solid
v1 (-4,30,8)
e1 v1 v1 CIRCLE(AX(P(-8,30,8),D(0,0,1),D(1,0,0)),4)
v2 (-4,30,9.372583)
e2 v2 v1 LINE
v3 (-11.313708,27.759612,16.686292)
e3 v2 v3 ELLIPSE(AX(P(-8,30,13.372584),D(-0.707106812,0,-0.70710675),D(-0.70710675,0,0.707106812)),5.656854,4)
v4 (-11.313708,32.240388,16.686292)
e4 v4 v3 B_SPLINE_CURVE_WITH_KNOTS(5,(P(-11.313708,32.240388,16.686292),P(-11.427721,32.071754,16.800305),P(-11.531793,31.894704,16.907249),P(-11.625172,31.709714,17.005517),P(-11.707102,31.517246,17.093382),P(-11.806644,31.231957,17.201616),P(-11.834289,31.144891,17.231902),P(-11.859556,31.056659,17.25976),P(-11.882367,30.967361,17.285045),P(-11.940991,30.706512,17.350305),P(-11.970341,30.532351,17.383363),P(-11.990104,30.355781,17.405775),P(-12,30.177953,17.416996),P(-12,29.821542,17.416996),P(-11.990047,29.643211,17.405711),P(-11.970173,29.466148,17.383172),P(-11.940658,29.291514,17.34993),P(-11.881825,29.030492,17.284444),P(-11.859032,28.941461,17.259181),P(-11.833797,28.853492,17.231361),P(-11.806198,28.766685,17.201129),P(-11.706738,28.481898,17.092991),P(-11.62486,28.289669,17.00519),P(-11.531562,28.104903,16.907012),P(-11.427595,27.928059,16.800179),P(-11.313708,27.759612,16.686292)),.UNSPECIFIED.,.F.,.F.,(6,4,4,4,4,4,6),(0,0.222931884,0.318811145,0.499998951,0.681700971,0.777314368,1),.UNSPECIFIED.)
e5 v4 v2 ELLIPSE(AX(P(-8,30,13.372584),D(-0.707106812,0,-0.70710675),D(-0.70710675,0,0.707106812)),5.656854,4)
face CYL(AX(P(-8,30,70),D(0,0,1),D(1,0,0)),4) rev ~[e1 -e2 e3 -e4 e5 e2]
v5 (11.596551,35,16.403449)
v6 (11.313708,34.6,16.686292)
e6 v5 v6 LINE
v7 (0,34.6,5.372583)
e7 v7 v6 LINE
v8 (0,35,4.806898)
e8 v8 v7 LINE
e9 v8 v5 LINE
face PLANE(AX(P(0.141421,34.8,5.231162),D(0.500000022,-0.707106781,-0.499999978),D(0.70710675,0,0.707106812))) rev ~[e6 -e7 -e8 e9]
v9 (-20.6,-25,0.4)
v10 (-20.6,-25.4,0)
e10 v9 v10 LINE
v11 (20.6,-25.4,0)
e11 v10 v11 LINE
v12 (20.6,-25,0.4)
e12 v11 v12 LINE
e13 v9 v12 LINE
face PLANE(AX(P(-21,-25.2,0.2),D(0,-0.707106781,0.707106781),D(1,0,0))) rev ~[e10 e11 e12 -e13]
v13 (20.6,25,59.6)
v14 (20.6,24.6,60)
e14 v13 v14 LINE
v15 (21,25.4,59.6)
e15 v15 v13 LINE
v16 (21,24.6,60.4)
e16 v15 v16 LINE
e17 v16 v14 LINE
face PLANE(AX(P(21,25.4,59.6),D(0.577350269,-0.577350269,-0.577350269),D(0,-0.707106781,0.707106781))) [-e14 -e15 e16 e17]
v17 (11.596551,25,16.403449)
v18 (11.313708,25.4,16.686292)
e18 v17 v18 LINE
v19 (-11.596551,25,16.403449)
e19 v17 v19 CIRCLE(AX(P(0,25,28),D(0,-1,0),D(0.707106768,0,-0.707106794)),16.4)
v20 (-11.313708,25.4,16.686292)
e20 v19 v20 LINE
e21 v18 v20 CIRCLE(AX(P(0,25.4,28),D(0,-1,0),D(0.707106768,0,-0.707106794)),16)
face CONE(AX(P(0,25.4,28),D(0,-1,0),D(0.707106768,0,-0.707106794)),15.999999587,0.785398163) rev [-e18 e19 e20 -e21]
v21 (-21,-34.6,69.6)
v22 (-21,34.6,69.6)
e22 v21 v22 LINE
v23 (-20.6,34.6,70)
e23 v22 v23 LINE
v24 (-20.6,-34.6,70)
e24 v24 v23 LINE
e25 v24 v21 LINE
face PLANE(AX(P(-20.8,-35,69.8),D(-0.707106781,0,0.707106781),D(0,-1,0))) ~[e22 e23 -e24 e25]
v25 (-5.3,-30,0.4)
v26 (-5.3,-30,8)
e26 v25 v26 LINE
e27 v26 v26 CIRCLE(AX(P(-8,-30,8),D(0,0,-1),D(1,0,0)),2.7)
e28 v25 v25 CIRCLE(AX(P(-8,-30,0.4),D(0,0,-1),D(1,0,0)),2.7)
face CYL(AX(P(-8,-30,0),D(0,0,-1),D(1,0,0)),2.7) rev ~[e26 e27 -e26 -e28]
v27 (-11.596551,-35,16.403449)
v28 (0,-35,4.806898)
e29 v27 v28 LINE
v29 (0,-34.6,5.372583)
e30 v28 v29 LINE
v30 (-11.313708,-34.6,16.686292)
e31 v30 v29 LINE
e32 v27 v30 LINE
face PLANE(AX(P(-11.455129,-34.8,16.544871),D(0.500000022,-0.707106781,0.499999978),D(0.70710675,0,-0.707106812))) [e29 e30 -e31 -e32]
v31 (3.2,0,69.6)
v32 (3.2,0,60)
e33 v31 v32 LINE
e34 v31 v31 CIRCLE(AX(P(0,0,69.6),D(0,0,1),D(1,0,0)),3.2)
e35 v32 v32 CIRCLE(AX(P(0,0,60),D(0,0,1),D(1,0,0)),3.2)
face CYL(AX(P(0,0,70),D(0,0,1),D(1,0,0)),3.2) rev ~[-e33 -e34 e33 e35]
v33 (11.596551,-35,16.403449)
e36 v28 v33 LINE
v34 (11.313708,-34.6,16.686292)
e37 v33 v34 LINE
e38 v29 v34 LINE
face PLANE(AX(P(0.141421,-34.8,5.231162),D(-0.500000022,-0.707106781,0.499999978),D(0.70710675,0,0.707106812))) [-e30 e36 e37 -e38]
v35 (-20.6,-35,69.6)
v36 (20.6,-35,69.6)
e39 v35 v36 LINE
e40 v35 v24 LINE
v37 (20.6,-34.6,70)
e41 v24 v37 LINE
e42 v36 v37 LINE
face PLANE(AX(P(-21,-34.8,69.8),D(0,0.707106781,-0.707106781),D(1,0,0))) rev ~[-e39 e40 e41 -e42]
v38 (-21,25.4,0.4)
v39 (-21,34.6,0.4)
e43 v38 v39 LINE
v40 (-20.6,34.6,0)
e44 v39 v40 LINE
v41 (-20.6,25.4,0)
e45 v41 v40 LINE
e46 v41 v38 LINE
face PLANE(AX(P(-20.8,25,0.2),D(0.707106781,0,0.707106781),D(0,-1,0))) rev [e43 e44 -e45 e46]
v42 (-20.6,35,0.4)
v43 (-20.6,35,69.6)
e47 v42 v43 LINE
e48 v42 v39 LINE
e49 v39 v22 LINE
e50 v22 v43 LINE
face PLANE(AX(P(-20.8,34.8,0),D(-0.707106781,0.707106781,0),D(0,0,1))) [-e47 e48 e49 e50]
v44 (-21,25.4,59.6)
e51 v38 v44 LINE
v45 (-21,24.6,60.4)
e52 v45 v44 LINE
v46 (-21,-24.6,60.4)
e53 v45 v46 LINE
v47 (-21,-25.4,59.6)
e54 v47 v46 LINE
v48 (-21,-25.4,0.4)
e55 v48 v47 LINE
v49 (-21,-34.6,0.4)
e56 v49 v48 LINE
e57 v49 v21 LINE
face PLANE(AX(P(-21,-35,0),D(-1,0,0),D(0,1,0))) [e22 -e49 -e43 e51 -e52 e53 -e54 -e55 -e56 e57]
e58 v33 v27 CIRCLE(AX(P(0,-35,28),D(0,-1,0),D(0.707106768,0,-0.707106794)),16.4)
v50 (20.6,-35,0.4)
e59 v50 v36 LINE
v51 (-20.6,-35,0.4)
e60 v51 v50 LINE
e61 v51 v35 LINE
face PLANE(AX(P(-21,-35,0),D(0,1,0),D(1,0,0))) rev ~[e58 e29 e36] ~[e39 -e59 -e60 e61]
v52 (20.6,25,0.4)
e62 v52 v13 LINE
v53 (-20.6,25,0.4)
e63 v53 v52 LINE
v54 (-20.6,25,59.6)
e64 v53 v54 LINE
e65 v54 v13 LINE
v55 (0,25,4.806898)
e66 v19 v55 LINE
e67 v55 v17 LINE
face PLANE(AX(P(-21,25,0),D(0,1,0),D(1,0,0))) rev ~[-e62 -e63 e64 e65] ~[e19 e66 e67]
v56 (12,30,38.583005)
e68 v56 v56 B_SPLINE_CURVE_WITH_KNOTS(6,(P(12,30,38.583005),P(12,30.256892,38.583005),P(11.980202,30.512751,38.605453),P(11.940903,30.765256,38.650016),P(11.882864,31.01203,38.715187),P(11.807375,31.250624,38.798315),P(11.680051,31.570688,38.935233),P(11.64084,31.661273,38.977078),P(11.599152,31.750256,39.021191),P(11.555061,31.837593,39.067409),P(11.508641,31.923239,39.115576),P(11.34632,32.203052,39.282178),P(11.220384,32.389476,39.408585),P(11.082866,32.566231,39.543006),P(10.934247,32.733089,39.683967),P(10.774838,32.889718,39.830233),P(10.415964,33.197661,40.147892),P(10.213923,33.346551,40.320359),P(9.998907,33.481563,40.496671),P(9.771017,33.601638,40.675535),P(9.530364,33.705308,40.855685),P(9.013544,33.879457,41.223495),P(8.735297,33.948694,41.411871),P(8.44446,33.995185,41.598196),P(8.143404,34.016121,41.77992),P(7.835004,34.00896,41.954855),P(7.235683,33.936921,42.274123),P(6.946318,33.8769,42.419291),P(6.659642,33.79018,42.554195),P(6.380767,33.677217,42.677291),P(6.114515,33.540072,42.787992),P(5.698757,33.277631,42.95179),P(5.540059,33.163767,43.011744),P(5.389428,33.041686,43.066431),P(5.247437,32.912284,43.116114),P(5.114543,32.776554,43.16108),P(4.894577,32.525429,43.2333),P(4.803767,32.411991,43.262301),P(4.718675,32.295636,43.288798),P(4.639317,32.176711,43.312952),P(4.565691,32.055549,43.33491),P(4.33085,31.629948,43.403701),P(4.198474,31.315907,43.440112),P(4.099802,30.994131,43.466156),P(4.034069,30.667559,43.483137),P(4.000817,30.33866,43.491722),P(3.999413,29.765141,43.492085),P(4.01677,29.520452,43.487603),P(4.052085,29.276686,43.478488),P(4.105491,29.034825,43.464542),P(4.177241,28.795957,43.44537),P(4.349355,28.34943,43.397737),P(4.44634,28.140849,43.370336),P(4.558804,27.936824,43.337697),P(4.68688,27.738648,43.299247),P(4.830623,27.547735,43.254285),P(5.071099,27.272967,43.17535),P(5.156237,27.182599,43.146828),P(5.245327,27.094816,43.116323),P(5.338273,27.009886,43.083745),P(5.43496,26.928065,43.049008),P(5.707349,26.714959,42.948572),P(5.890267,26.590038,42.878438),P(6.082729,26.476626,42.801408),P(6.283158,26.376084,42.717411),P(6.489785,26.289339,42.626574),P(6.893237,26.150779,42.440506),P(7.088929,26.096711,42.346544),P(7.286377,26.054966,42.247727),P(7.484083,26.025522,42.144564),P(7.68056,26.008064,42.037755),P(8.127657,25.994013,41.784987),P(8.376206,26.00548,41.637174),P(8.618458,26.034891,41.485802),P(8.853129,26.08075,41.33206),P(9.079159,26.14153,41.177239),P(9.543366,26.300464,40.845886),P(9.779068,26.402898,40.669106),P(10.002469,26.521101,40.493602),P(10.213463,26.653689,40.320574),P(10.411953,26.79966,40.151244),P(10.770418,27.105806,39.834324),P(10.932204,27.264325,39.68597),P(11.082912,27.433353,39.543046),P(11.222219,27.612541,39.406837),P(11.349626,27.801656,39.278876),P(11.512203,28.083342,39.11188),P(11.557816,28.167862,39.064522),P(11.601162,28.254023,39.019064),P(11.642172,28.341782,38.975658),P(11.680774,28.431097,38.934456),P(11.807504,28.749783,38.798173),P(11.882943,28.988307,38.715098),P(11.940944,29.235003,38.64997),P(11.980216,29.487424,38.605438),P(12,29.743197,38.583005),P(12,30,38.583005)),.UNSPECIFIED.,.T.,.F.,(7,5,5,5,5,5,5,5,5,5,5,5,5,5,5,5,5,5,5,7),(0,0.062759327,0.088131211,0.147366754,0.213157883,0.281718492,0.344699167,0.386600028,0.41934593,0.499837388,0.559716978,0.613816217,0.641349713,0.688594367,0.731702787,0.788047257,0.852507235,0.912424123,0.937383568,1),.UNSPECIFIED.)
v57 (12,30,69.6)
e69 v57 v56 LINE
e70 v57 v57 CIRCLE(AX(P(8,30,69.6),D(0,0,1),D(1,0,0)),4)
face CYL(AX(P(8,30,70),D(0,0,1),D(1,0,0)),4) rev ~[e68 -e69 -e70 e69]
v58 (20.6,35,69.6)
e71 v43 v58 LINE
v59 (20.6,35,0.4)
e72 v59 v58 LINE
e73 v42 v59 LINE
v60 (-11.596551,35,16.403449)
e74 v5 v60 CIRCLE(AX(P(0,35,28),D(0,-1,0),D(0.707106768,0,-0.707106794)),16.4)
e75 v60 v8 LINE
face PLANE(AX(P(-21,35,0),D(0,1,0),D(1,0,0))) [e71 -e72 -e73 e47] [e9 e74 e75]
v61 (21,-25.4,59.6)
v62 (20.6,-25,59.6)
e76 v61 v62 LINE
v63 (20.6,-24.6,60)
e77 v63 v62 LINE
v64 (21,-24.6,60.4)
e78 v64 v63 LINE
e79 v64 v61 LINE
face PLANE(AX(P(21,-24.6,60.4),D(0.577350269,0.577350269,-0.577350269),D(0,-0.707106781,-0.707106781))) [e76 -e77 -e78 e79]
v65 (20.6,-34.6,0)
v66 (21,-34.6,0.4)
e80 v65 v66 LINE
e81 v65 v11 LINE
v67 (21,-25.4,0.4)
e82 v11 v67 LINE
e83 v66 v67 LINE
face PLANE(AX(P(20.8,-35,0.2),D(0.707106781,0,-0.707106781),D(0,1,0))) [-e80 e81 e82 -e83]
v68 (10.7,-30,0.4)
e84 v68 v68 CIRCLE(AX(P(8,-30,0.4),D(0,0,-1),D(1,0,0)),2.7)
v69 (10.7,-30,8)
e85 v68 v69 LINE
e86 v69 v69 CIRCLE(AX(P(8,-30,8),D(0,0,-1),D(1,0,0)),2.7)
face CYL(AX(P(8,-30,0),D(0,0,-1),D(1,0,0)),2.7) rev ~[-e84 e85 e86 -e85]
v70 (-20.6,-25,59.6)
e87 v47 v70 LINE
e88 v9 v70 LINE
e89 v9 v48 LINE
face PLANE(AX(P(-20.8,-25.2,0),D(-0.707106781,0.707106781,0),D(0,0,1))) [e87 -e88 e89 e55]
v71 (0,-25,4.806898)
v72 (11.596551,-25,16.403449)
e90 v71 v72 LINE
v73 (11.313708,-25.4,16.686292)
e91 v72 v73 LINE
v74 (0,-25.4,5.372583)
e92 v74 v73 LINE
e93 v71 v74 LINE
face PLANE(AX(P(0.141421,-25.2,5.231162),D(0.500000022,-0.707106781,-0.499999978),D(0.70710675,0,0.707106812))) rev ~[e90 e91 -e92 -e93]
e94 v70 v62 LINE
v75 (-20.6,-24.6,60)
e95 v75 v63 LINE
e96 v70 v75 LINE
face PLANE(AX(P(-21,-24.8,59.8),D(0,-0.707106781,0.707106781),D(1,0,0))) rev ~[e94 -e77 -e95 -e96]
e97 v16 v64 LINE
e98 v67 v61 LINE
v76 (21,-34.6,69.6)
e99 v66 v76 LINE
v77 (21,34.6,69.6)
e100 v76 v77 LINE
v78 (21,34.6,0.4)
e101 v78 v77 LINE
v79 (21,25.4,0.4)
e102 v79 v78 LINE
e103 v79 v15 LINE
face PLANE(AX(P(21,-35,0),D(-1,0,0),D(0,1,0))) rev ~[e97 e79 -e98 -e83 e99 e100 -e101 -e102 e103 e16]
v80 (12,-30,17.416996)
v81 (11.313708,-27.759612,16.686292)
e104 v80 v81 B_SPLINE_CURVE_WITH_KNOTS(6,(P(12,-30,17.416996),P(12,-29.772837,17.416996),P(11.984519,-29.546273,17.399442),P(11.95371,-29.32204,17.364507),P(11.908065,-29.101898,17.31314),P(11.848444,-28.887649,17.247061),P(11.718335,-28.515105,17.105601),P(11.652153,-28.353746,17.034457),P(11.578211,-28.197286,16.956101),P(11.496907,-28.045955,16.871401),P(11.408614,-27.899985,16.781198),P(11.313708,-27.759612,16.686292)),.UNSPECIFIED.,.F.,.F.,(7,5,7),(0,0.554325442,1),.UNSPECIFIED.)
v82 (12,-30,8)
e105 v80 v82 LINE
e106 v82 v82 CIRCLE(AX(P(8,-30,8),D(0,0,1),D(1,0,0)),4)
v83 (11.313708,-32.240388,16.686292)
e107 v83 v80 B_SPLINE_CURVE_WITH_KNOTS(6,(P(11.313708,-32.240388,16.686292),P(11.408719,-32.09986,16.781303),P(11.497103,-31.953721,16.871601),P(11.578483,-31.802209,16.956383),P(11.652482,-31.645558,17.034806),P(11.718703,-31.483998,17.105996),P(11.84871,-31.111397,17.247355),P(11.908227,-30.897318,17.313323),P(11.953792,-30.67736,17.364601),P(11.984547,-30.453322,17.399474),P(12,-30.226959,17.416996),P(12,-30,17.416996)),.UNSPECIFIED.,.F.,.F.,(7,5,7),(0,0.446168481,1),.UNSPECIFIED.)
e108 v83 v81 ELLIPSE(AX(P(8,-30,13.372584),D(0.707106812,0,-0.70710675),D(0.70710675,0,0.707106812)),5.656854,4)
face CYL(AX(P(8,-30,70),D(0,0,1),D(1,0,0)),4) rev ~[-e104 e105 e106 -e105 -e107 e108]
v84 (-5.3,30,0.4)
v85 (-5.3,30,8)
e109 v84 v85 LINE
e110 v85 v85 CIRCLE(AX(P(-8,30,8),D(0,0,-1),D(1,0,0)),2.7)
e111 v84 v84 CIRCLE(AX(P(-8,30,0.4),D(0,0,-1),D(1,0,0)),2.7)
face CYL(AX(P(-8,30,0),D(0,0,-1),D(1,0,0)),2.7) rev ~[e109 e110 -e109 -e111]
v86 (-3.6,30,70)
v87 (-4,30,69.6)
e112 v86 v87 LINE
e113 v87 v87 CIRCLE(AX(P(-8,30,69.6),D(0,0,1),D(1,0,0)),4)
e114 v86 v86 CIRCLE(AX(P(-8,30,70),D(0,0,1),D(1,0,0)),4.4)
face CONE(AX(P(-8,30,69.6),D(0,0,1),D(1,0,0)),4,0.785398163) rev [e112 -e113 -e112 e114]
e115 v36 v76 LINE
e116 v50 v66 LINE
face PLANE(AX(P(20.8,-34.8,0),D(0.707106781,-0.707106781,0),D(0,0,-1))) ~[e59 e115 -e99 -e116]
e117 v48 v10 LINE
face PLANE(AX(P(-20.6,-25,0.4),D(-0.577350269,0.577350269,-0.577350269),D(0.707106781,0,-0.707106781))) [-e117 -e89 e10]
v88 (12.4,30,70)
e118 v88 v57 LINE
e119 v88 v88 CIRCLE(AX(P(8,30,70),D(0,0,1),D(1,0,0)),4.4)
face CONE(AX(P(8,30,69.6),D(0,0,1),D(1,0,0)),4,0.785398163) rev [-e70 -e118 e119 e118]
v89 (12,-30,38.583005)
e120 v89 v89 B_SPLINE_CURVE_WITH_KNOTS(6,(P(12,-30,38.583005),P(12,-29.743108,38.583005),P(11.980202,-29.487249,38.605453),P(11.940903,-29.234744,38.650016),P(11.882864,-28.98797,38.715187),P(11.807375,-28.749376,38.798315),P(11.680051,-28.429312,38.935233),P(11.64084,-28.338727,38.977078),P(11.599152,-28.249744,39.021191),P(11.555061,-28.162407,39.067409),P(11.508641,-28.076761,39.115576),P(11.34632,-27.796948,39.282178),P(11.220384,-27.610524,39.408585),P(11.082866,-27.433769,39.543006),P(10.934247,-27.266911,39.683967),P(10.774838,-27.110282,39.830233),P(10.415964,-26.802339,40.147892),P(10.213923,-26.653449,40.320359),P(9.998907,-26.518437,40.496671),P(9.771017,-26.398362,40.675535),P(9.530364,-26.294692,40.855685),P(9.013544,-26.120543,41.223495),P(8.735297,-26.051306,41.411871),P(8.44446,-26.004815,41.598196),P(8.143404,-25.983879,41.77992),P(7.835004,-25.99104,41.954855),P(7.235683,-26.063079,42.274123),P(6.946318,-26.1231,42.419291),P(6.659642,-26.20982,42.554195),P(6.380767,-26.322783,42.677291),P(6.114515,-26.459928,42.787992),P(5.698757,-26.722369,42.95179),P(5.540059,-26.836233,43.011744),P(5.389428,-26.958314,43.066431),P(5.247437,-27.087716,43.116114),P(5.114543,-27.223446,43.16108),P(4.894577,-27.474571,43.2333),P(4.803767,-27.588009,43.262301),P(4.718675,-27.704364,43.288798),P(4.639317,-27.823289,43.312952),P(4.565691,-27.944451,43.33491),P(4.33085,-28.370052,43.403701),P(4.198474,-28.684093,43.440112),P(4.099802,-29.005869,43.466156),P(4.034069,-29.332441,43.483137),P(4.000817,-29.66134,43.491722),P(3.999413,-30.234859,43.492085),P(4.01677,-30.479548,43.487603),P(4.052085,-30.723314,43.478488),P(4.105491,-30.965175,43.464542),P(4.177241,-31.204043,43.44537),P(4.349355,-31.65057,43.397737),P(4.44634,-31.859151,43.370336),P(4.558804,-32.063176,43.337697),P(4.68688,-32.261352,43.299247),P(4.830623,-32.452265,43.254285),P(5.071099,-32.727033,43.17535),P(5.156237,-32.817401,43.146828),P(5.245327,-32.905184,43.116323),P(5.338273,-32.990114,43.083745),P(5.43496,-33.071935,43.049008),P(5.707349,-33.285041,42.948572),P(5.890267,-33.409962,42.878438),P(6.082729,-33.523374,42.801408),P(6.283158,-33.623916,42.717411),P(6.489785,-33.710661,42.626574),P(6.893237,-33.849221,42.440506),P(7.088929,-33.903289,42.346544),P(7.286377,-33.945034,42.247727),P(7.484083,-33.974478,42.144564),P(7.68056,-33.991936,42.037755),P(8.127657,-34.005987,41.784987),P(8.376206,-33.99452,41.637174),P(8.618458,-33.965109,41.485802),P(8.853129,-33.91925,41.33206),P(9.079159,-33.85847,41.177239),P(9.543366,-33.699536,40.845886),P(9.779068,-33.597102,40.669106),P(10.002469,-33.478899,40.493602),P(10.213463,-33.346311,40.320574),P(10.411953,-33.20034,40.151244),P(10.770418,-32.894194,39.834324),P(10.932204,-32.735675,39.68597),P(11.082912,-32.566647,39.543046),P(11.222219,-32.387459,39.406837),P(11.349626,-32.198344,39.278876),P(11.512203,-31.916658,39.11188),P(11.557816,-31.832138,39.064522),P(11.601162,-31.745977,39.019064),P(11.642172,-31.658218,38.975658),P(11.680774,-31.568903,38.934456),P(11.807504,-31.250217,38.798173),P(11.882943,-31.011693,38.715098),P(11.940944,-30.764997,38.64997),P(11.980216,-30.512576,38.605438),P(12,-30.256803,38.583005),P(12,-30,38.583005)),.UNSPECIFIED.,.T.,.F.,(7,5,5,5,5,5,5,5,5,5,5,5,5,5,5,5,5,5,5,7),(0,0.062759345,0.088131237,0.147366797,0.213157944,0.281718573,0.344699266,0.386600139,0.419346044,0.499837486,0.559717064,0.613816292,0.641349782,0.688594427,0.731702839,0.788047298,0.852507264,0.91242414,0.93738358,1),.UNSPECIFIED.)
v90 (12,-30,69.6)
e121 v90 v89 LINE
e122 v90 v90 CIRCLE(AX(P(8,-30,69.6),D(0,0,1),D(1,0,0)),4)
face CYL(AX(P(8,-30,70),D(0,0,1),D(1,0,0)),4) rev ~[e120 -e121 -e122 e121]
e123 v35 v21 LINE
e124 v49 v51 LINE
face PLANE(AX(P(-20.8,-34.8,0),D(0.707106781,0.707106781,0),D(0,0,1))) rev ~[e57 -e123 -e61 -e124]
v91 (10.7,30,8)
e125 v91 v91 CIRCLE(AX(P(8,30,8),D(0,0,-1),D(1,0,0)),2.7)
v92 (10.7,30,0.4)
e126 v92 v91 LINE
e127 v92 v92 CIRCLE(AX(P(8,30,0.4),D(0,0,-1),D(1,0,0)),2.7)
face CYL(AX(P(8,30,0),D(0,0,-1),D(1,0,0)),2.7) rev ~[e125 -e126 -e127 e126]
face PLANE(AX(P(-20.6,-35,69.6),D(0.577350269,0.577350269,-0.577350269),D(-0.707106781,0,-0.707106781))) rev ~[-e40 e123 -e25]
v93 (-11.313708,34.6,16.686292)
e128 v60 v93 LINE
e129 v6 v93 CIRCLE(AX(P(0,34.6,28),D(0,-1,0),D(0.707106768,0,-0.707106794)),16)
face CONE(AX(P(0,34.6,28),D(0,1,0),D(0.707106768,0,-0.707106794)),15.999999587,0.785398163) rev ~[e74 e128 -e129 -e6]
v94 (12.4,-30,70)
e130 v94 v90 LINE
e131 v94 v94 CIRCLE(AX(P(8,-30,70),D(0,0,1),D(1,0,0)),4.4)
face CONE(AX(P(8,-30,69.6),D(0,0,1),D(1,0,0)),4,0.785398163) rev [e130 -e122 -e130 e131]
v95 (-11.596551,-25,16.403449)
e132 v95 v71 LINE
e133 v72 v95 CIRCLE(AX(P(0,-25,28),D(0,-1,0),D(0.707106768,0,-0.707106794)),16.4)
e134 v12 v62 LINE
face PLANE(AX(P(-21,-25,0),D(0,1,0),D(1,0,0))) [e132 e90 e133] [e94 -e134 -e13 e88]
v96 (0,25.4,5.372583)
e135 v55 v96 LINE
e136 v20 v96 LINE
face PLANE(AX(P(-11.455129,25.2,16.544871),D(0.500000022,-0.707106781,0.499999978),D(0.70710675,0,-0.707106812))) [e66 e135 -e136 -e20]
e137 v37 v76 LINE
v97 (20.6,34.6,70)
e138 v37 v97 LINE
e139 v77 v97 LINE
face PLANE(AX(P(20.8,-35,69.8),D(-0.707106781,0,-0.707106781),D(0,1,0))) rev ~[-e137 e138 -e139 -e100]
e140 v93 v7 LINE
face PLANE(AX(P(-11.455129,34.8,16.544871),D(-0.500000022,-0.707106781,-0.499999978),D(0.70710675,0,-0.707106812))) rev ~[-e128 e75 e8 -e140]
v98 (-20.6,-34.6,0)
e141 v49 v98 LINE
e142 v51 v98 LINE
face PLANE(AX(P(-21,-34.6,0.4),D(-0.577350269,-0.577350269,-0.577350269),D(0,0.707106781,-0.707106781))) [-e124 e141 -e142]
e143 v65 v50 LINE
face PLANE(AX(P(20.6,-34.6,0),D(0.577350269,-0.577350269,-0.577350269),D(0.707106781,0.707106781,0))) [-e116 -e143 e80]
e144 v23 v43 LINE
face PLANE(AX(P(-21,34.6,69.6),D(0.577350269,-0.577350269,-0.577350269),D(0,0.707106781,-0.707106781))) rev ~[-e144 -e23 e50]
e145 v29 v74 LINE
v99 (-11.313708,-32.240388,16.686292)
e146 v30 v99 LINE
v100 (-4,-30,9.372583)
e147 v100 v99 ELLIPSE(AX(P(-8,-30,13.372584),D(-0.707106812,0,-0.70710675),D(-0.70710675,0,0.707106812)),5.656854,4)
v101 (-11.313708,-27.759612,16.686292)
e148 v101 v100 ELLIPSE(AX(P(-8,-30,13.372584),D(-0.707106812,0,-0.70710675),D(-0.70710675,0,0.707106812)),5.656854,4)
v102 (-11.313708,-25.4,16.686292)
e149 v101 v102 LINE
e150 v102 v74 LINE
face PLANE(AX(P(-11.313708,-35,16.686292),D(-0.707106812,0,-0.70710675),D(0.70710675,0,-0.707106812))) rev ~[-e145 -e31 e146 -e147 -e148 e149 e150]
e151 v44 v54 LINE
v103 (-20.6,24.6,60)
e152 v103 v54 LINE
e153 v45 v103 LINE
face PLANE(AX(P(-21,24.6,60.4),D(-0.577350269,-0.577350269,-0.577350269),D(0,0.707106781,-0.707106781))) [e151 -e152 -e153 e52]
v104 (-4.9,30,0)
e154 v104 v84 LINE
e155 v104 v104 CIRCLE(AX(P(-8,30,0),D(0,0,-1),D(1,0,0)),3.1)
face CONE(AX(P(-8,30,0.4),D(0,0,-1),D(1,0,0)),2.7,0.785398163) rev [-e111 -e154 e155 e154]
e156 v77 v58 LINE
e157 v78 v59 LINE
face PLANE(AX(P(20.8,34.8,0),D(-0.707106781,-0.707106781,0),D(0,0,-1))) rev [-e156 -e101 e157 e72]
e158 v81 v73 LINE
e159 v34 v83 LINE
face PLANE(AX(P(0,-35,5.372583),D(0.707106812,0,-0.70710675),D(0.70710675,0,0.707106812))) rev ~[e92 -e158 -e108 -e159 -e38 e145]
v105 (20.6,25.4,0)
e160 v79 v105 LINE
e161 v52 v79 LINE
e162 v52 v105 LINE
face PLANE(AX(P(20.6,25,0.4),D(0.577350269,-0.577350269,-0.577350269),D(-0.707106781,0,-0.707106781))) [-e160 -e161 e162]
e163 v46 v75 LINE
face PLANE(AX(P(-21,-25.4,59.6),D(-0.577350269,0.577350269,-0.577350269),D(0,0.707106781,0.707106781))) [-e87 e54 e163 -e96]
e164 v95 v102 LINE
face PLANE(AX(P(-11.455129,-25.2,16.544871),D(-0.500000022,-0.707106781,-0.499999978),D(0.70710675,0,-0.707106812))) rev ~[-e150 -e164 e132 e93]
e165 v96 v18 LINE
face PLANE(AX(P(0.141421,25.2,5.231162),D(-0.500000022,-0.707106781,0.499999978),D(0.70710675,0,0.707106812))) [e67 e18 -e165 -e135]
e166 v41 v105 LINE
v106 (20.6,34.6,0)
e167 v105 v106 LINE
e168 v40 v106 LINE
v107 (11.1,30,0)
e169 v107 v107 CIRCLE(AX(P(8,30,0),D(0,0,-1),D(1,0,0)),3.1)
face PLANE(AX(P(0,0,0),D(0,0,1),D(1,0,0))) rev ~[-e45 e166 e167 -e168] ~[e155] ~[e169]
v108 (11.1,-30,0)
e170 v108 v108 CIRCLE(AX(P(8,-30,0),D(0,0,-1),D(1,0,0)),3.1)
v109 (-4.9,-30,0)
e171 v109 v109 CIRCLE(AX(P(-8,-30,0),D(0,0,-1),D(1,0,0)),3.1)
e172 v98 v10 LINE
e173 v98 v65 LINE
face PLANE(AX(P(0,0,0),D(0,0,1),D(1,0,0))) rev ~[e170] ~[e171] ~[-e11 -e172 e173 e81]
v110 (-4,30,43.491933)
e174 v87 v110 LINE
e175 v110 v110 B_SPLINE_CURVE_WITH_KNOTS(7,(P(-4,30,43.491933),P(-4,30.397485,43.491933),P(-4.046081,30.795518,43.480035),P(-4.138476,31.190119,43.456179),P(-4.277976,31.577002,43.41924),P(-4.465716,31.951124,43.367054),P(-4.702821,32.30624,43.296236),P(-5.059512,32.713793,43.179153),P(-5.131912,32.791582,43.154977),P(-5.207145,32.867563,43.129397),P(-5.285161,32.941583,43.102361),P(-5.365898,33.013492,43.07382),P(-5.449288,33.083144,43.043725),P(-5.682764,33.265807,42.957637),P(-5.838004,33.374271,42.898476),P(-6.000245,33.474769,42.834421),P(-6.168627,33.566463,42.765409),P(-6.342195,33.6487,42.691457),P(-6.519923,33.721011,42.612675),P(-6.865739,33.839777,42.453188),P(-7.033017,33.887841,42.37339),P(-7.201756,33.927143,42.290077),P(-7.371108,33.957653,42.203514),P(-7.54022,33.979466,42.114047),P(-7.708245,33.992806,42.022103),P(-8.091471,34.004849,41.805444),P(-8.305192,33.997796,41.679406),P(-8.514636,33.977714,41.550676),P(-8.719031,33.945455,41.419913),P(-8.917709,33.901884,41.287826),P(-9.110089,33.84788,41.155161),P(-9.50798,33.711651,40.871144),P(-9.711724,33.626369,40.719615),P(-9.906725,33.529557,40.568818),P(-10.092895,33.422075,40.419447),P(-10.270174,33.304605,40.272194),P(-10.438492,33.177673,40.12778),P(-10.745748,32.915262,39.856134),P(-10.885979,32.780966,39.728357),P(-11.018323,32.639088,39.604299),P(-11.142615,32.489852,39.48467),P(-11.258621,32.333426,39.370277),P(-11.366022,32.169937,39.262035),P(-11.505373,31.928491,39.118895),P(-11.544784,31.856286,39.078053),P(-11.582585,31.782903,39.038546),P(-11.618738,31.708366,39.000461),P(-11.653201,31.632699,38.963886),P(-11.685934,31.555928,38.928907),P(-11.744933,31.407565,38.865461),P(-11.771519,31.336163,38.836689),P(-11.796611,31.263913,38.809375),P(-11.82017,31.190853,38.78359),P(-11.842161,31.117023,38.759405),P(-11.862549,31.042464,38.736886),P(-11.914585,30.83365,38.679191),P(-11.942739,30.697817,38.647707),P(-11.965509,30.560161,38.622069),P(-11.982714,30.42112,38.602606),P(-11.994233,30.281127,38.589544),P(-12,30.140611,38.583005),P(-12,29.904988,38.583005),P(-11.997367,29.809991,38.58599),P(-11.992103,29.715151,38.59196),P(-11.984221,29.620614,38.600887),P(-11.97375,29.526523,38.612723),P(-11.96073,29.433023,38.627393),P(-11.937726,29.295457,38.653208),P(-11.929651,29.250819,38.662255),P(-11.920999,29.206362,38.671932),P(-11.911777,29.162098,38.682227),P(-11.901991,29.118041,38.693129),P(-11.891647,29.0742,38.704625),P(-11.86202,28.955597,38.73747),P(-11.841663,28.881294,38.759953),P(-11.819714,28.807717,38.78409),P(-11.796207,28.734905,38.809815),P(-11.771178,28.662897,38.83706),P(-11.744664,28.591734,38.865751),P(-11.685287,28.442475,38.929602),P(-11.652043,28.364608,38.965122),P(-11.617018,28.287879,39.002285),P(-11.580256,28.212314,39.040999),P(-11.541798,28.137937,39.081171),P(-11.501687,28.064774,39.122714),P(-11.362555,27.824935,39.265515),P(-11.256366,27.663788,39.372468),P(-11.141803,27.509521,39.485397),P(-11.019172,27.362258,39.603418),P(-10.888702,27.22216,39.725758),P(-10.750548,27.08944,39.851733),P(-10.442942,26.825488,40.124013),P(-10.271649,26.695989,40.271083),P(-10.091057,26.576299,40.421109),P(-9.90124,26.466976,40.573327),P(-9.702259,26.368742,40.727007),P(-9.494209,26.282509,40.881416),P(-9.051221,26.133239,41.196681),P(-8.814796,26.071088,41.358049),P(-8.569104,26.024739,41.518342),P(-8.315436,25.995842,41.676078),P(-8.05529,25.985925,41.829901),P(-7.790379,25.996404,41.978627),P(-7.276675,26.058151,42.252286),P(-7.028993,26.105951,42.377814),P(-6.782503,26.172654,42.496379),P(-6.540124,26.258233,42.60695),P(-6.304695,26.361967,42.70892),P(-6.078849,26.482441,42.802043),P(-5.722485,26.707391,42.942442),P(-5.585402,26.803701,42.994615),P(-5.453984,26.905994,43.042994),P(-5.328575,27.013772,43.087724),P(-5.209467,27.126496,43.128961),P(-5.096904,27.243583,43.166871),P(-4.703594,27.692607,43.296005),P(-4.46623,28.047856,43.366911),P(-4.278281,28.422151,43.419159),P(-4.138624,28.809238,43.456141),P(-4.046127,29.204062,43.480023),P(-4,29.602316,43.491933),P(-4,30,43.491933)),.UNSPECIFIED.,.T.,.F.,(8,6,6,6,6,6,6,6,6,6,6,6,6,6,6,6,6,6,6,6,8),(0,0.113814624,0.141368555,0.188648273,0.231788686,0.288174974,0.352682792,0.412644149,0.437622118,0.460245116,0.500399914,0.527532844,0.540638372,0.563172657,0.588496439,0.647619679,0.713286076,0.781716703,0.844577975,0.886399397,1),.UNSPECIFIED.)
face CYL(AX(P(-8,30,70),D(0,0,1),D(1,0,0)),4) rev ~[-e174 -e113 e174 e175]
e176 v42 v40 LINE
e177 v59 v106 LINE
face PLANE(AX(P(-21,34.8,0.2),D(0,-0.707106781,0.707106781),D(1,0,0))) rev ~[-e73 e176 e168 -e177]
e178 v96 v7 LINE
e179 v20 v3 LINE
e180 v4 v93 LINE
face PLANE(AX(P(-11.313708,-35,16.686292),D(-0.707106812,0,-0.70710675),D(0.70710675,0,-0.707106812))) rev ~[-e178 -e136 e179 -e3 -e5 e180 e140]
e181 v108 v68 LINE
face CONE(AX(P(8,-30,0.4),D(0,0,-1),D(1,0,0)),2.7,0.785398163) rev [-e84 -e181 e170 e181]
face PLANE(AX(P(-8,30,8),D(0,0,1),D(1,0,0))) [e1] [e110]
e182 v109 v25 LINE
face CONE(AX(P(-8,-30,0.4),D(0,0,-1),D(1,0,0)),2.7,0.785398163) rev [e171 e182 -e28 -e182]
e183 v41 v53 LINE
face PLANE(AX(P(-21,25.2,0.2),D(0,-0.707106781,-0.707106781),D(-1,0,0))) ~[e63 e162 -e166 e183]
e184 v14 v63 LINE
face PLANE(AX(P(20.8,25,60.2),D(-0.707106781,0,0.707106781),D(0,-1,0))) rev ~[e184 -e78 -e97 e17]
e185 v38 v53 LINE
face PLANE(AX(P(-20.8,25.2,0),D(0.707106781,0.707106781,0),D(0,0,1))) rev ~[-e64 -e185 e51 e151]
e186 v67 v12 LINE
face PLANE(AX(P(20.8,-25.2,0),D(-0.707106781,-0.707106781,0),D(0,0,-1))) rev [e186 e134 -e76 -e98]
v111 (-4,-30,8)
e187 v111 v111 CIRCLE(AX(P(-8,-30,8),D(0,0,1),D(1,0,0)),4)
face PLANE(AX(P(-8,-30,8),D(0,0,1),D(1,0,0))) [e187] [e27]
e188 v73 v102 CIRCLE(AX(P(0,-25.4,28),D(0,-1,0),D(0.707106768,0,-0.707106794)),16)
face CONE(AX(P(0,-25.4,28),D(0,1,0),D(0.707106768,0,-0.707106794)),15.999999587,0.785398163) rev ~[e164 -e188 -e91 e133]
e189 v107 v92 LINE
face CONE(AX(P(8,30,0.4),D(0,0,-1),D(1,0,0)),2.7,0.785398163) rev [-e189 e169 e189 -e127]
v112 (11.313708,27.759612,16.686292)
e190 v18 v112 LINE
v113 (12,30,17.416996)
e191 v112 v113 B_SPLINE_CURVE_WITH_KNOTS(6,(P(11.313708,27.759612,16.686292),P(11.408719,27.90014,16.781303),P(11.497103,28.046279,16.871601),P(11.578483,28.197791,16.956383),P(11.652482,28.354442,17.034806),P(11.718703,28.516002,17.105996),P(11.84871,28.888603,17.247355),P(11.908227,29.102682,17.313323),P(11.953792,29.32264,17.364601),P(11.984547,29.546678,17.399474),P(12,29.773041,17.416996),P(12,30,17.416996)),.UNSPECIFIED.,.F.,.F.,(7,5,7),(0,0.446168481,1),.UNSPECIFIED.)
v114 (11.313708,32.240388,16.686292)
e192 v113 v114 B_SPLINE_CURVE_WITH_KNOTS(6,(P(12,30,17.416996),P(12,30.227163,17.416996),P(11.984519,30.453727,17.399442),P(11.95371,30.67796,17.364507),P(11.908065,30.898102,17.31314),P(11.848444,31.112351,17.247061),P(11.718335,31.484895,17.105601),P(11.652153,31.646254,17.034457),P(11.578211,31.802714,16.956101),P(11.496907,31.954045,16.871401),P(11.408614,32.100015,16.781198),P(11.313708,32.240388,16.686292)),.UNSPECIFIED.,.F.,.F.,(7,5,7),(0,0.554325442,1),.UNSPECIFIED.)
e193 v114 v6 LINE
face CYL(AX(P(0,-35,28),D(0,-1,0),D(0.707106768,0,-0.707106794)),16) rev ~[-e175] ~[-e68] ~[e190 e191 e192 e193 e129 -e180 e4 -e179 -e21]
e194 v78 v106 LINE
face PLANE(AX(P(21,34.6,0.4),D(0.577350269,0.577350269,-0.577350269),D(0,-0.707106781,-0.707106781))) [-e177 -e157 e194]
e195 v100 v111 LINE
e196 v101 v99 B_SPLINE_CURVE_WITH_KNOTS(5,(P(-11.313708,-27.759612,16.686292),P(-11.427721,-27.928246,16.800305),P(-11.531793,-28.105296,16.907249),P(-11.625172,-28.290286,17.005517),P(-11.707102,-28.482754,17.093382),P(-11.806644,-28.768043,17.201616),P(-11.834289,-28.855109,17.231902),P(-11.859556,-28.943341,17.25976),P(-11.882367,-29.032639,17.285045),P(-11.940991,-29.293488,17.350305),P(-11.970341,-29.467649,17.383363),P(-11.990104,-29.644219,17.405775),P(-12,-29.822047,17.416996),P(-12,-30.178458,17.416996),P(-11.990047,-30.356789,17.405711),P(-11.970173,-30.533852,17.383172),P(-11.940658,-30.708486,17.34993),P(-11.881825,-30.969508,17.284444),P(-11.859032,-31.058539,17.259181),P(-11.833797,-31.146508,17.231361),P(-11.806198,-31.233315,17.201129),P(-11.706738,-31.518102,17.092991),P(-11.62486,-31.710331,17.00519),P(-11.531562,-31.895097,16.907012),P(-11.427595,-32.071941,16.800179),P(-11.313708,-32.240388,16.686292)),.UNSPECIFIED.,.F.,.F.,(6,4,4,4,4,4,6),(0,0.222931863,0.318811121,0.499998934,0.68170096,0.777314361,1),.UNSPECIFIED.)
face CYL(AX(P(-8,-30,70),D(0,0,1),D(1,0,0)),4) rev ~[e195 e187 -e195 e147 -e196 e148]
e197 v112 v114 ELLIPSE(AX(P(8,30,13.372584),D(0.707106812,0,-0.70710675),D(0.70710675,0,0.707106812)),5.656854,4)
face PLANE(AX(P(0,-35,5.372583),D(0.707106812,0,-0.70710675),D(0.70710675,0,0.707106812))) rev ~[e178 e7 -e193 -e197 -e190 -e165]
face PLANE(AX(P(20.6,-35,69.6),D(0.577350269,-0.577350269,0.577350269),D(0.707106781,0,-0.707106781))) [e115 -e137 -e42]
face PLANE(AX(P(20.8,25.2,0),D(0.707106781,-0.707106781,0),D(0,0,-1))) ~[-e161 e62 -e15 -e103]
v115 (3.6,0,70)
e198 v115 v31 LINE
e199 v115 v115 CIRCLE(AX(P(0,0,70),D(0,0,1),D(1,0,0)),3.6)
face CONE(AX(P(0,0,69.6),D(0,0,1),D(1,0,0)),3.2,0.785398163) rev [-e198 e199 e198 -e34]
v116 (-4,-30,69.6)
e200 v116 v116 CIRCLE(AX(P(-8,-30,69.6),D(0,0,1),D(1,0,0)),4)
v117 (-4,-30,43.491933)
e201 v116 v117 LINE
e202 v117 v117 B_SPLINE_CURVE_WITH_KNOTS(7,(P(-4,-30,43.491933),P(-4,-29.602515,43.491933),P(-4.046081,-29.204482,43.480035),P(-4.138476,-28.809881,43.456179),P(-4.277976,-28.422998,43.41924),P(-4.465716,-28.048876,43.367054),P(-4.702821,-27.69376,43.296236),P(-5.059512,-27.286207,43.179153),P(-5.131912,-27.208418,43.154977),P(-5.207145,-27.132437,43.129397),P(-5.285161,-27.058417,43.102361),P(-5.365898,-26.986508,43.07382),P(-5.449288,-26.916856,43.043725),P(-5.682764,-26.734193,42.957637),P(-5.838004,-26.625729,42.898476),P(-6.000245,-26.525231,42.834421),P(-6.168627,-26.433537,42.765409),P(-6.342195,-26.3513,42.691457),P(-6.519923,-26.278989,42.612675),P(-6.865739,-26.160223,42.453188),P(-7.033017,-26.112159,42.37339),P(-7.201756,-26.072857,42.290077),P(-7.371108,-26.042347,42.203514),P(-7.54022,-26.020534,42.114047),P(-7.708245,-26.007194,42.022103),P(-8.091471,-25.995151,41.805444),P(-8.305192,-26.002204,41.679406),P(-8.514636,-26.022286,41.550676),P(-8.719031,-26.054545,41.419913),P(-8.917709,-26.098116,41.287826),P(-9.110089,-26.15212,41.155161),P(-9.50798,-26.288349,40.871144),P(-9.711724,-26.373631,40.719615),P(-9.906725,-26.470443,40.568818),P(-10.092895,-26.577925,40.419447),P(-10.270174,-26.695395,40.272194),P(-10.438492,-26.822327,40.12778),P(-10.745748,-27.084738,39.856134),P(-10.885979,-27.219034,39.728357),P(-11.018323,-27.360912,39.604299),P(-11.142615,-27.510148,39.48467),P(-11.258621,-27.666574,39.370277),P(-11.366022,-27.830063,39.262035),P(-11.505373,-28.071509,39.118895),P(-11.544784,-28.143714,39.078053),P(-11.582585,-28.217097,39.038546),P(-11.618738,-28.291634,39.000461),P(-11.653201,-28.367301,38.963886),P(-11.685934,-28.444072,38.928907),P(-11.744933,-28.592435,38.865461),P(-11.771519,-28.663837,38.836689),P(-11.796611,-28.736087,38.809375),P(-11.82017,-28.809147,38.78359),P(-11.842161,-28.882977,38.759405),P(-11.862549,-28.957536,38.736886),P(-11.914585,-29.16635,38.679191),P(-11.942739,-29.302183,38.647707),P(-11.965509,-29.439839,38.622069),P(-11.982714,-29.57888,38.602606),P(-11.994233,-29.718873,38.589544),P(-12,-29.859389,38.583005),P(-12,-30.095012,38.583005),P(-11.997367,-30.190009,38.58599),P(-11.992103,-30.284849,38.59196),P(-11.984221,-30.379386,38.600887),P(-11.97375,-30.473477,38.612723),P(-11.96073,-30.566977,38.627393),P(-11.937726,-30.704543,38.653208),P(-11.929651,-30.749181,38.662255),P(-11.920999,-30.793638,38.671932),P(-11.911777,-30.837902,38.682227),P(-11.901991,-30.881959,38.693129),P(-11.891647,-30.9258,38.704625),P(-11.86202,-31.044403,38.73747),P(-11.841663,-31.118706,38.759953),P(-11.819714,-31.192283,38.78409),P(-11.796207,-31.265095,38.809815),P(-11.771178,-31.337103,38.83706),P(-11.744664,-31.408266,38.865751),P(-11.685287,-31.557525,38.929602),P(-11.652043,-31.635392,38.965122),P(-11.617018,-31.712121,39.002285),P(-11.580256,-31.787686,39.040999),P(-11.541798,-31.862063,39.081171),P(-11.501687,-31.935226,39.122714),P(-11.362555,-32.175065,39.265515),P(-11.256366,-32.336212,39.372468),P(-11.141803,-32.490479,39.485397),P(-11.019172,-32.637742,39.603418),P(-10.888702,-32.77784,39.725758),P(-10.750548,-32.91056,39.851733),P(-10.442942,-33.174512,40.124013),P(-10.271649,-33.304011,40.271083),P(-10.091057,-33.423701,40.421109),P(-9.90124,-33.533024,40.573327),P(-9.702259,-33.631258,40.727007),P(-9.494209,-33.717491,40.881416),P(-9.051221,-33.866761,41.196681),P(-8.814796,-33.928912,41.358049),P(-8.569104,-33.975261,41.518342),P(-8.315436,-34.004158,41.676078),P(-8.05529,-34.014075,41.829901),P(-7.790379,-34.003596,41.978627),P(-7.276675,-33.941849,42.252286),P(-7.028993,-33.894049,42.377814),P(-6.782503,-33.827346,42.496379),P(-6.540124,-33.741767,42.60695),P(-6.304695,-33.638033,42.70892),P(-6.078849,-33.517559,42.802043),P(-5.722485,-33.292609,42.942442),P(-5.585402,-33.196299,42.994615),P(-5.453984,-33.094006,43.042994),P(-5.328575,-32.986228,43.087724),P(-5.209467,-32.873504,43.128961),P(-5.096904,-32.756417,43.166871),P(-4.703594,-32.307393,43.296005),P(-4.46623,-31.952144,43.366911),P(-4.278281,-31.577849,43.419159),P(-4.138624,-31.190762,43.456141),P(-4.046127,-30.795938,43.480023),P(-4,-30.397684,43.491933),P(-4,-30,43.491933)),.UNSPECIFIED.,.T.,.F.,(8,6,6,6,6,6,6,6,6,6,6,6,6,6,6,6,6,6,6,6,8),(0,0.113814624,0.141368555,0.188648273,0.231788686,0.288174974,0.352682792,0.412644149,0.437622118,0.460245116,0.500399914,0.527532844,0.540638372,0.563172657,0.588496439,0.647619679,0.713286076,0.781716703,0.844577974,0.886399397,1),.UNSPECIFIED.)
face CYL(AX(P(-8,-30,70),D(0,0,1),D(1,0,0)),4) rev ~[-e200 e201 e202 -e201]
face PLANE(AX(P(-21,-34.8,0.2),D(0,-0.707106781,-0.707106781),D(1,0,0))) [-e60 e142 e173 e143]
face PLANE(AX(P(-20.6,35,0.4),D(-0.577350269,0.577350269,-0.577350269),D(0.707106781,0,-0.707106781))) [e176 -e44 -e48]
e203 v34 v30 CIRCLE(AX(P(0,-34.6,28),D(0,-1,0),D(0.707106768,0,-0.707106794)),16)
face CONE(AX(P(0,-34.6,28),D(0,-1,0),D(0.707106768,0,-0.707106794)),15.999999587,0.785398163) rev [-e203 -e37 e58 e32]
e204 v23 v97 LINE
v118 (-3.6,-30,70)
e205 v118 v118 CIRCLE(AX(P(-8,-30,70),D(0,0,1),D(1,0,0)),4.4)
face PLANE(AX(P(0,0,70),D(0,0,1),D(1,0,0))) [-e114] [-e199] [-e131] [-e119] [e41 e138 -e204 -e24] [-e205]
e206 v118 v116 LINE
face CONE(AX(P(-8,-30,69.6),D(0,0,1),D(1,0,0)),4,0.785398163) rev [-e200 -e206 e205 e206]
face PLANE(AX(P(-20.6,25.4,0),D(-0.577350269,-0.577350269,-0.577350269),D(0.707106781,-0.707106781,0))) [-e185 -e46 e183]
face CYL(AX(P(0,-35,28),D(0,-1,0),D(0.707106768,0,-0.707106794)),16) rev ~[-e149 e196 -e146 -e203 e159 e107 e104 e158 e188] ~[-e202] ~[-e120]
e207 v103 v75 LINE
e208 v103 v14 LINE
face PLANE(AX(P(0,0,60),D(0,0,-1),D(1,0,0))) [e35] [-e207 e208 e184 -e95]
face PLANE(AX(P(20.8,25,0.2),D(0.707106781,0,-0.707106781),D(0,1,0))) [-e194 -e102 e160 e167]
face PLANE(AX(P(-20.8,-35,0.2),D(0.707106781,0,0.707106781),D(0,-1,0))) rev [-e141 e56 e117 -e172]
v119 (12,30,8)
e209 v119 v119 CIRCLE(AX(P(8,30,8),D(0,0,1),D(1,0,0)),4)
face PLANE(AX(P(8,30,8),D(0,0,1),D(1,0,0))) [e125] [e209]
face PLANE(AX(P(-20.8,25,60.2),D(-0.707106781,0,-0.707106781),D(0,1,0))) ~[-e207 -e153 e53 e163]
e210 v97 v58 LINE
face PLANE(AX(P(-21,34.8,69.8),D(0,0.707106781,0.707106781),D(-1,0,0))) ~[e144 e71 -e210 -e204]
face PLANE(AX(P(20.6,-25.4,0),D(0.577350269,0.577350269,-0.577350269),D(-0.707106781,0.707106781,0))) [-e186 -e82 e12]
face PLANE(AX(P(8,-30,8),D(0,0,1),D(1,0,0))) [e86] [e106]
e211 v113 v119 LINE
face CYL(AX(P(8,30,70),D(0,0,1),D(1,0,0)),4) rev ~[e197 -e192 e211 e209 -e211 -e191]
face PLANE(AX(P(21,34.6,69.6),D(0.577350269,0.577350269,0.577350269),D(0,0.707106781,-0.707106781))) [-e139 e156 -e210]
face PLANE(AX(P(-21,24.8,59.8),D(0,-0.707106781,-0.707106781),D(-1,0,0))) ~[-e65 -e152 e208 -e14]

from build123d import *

# Parameters (mm, degrees)
SKETCH001_W     = 42
SKETCH001_H     = 70
PAD001_DEPTH    = 70
POCKET_DEPTH    = 70
SKETCH003_W     = 42
SKETCH003_H     = 50
POCKET001_DEPTH = 60
SKETCH004_R     = 3.2
POCKET002_DEPTH = 10
SKETCH005_R     = 2.7
POCKET003_DEPTH = 70
SKETCH007_R     = 4
POCKET004_DEPTH = 62
CHAMFER001_SIZE = 0.4


with BuildPart() as part:
    # Sketch001 → Pad001 (new body)
    with BuildSketch(Plane.XY):
        Rectangle(SKETCH001_W, SKETCH001_H)
    extrude(amount=PAD001_DEPTH)

    # Sketch002 (on Face3 of Pad001) → Pocket (cut)
    with BuildSketch(Plane.XZ.offset(35)):
        with BuildLine():
            ThreePointArc((11.313708, 16.686292), (0, 44), (-11.313708, 16.686292))
            Line((-11.313708, 16.686292), (0, 5.372583))
            Line((0, 5.372583), (11.313708, 16.686292))
        make_face()
    extrude(amount=-POCKET_DEPTH, mode=Mode.SUBTRACT)

    # Sketch003 (on Face3 of Pocket) → Pocket001 (cut)
    with BuildSketch(Plane(origin=(0, 0, 0), x_dir=(1, 0, 0), z_dir=(0, 0, -1))):
        Rectangle(SKETCH003_W, SKETCH003_H)
    extrude(amount=-POCKET001_DEPTH, mode=Mode.SUBTRACT)

    # Sketch004 (on Face4 of Pocket001) → Pocket002 (cut)
    with BuildSketch(Plane.XY.offset(70)):
        Circle(SKETCH004_R)
    extrude(amount=-POCKET002_DEPTH, mode=Mode.SUBTRACT)

    # Sketch005 (on Face9 of Pocket001) → Pocket003 (cut)
    with BuildSketch(Plane(origin=(0, 0, 0), x_dir=(1, 0, 0), z_dir=(0, 0, -1))):
        with Locations((-8, 30)):
            Circle(SKETCH005_R)
        with Locations((8, 30)):
            Circle(SKETCH005_R)
        with Locations((-8, -30)):
            Circle(SKETCH005_R)
        with Locations((8, -30)):
            Circle(SKETCH005_R)
    extrude(amount=-POCKET003_DEPTH, mode=Mode.SUBTRACT)

    # Sketch007 (on Face4 of Pocket003) → Pocket004 (cut)
    with BuildSketch(Plane.XY.offset(70)):
        with Locations((-8, 30)):
            Circle(SKETCH007_R)
        with Locations((8, 30)):
            Circle(SKETCH007_R)
        with Locations((8, -30)):
            Circle(SKETCH007_R)
        with Locations((-8, -30)):
            Circle(SKETCH007_R)
    extrude(amount=-POCKET004_DEPTH, mode=Mode.SUBTRACT)

    # Chamfer001
    chamfer001_edges = [part.edges().sort_by_distance(p)[0] for p in [
        (0, 35, 70),
        (-21, 0, 70),
        (21, 0, 70),
        (0, -35, 70),
        (-12, -30, 70),
        (4, -30, 70),
        (-12, 30, 70),
        (-3.2, 0, 70),
        (4, 30, 70),
        (21, -35, 35),
        (0, -35, 0),
        (-21, -35, 35),
        (0, -35, 44),
        (-5.656854, -35, 11.029437),
        (5.656854, -35, 11.029437),
        (-21, -30, 0),
        (-21, -25, 30),
        (-21, 0, 60),
        (-21, 25, 30),
        (-21, 30, 0),
        (-21, 35, 35),
        (0, 35, 0),
        (21, 35, 35),
        (5.656854, 35, 11.029437),
        (-5.656854, 35, 11.029437),
        (0, 35, 44),
        (21, 30, 0),
        (21, 25, 30),
        (21, 0, 60),
        (21, -25, 30),
        (21, -30, 0),
        (0, -25, 0),
        (0, -25, 60),
        (-5.656854, -25, 11.029437),
        (0, -25, 44),
        (5.656854, -25, 11.029437),
        (0, 25, 0),
        (0, 25, 60),
        (0, 25, 44),
        (-5.656854, 25, 11.029437),
        (5.656854, 25, 11.029437),
        (5.3, -30, 0),
        (-10.7, -30, 0),
        (-10.7, 30, 0),
        (5.3, 30, 0),
    ]]
    chamfer(chamfer001_edges, length=CHAMFER001_SIZE)


solid = part.part
